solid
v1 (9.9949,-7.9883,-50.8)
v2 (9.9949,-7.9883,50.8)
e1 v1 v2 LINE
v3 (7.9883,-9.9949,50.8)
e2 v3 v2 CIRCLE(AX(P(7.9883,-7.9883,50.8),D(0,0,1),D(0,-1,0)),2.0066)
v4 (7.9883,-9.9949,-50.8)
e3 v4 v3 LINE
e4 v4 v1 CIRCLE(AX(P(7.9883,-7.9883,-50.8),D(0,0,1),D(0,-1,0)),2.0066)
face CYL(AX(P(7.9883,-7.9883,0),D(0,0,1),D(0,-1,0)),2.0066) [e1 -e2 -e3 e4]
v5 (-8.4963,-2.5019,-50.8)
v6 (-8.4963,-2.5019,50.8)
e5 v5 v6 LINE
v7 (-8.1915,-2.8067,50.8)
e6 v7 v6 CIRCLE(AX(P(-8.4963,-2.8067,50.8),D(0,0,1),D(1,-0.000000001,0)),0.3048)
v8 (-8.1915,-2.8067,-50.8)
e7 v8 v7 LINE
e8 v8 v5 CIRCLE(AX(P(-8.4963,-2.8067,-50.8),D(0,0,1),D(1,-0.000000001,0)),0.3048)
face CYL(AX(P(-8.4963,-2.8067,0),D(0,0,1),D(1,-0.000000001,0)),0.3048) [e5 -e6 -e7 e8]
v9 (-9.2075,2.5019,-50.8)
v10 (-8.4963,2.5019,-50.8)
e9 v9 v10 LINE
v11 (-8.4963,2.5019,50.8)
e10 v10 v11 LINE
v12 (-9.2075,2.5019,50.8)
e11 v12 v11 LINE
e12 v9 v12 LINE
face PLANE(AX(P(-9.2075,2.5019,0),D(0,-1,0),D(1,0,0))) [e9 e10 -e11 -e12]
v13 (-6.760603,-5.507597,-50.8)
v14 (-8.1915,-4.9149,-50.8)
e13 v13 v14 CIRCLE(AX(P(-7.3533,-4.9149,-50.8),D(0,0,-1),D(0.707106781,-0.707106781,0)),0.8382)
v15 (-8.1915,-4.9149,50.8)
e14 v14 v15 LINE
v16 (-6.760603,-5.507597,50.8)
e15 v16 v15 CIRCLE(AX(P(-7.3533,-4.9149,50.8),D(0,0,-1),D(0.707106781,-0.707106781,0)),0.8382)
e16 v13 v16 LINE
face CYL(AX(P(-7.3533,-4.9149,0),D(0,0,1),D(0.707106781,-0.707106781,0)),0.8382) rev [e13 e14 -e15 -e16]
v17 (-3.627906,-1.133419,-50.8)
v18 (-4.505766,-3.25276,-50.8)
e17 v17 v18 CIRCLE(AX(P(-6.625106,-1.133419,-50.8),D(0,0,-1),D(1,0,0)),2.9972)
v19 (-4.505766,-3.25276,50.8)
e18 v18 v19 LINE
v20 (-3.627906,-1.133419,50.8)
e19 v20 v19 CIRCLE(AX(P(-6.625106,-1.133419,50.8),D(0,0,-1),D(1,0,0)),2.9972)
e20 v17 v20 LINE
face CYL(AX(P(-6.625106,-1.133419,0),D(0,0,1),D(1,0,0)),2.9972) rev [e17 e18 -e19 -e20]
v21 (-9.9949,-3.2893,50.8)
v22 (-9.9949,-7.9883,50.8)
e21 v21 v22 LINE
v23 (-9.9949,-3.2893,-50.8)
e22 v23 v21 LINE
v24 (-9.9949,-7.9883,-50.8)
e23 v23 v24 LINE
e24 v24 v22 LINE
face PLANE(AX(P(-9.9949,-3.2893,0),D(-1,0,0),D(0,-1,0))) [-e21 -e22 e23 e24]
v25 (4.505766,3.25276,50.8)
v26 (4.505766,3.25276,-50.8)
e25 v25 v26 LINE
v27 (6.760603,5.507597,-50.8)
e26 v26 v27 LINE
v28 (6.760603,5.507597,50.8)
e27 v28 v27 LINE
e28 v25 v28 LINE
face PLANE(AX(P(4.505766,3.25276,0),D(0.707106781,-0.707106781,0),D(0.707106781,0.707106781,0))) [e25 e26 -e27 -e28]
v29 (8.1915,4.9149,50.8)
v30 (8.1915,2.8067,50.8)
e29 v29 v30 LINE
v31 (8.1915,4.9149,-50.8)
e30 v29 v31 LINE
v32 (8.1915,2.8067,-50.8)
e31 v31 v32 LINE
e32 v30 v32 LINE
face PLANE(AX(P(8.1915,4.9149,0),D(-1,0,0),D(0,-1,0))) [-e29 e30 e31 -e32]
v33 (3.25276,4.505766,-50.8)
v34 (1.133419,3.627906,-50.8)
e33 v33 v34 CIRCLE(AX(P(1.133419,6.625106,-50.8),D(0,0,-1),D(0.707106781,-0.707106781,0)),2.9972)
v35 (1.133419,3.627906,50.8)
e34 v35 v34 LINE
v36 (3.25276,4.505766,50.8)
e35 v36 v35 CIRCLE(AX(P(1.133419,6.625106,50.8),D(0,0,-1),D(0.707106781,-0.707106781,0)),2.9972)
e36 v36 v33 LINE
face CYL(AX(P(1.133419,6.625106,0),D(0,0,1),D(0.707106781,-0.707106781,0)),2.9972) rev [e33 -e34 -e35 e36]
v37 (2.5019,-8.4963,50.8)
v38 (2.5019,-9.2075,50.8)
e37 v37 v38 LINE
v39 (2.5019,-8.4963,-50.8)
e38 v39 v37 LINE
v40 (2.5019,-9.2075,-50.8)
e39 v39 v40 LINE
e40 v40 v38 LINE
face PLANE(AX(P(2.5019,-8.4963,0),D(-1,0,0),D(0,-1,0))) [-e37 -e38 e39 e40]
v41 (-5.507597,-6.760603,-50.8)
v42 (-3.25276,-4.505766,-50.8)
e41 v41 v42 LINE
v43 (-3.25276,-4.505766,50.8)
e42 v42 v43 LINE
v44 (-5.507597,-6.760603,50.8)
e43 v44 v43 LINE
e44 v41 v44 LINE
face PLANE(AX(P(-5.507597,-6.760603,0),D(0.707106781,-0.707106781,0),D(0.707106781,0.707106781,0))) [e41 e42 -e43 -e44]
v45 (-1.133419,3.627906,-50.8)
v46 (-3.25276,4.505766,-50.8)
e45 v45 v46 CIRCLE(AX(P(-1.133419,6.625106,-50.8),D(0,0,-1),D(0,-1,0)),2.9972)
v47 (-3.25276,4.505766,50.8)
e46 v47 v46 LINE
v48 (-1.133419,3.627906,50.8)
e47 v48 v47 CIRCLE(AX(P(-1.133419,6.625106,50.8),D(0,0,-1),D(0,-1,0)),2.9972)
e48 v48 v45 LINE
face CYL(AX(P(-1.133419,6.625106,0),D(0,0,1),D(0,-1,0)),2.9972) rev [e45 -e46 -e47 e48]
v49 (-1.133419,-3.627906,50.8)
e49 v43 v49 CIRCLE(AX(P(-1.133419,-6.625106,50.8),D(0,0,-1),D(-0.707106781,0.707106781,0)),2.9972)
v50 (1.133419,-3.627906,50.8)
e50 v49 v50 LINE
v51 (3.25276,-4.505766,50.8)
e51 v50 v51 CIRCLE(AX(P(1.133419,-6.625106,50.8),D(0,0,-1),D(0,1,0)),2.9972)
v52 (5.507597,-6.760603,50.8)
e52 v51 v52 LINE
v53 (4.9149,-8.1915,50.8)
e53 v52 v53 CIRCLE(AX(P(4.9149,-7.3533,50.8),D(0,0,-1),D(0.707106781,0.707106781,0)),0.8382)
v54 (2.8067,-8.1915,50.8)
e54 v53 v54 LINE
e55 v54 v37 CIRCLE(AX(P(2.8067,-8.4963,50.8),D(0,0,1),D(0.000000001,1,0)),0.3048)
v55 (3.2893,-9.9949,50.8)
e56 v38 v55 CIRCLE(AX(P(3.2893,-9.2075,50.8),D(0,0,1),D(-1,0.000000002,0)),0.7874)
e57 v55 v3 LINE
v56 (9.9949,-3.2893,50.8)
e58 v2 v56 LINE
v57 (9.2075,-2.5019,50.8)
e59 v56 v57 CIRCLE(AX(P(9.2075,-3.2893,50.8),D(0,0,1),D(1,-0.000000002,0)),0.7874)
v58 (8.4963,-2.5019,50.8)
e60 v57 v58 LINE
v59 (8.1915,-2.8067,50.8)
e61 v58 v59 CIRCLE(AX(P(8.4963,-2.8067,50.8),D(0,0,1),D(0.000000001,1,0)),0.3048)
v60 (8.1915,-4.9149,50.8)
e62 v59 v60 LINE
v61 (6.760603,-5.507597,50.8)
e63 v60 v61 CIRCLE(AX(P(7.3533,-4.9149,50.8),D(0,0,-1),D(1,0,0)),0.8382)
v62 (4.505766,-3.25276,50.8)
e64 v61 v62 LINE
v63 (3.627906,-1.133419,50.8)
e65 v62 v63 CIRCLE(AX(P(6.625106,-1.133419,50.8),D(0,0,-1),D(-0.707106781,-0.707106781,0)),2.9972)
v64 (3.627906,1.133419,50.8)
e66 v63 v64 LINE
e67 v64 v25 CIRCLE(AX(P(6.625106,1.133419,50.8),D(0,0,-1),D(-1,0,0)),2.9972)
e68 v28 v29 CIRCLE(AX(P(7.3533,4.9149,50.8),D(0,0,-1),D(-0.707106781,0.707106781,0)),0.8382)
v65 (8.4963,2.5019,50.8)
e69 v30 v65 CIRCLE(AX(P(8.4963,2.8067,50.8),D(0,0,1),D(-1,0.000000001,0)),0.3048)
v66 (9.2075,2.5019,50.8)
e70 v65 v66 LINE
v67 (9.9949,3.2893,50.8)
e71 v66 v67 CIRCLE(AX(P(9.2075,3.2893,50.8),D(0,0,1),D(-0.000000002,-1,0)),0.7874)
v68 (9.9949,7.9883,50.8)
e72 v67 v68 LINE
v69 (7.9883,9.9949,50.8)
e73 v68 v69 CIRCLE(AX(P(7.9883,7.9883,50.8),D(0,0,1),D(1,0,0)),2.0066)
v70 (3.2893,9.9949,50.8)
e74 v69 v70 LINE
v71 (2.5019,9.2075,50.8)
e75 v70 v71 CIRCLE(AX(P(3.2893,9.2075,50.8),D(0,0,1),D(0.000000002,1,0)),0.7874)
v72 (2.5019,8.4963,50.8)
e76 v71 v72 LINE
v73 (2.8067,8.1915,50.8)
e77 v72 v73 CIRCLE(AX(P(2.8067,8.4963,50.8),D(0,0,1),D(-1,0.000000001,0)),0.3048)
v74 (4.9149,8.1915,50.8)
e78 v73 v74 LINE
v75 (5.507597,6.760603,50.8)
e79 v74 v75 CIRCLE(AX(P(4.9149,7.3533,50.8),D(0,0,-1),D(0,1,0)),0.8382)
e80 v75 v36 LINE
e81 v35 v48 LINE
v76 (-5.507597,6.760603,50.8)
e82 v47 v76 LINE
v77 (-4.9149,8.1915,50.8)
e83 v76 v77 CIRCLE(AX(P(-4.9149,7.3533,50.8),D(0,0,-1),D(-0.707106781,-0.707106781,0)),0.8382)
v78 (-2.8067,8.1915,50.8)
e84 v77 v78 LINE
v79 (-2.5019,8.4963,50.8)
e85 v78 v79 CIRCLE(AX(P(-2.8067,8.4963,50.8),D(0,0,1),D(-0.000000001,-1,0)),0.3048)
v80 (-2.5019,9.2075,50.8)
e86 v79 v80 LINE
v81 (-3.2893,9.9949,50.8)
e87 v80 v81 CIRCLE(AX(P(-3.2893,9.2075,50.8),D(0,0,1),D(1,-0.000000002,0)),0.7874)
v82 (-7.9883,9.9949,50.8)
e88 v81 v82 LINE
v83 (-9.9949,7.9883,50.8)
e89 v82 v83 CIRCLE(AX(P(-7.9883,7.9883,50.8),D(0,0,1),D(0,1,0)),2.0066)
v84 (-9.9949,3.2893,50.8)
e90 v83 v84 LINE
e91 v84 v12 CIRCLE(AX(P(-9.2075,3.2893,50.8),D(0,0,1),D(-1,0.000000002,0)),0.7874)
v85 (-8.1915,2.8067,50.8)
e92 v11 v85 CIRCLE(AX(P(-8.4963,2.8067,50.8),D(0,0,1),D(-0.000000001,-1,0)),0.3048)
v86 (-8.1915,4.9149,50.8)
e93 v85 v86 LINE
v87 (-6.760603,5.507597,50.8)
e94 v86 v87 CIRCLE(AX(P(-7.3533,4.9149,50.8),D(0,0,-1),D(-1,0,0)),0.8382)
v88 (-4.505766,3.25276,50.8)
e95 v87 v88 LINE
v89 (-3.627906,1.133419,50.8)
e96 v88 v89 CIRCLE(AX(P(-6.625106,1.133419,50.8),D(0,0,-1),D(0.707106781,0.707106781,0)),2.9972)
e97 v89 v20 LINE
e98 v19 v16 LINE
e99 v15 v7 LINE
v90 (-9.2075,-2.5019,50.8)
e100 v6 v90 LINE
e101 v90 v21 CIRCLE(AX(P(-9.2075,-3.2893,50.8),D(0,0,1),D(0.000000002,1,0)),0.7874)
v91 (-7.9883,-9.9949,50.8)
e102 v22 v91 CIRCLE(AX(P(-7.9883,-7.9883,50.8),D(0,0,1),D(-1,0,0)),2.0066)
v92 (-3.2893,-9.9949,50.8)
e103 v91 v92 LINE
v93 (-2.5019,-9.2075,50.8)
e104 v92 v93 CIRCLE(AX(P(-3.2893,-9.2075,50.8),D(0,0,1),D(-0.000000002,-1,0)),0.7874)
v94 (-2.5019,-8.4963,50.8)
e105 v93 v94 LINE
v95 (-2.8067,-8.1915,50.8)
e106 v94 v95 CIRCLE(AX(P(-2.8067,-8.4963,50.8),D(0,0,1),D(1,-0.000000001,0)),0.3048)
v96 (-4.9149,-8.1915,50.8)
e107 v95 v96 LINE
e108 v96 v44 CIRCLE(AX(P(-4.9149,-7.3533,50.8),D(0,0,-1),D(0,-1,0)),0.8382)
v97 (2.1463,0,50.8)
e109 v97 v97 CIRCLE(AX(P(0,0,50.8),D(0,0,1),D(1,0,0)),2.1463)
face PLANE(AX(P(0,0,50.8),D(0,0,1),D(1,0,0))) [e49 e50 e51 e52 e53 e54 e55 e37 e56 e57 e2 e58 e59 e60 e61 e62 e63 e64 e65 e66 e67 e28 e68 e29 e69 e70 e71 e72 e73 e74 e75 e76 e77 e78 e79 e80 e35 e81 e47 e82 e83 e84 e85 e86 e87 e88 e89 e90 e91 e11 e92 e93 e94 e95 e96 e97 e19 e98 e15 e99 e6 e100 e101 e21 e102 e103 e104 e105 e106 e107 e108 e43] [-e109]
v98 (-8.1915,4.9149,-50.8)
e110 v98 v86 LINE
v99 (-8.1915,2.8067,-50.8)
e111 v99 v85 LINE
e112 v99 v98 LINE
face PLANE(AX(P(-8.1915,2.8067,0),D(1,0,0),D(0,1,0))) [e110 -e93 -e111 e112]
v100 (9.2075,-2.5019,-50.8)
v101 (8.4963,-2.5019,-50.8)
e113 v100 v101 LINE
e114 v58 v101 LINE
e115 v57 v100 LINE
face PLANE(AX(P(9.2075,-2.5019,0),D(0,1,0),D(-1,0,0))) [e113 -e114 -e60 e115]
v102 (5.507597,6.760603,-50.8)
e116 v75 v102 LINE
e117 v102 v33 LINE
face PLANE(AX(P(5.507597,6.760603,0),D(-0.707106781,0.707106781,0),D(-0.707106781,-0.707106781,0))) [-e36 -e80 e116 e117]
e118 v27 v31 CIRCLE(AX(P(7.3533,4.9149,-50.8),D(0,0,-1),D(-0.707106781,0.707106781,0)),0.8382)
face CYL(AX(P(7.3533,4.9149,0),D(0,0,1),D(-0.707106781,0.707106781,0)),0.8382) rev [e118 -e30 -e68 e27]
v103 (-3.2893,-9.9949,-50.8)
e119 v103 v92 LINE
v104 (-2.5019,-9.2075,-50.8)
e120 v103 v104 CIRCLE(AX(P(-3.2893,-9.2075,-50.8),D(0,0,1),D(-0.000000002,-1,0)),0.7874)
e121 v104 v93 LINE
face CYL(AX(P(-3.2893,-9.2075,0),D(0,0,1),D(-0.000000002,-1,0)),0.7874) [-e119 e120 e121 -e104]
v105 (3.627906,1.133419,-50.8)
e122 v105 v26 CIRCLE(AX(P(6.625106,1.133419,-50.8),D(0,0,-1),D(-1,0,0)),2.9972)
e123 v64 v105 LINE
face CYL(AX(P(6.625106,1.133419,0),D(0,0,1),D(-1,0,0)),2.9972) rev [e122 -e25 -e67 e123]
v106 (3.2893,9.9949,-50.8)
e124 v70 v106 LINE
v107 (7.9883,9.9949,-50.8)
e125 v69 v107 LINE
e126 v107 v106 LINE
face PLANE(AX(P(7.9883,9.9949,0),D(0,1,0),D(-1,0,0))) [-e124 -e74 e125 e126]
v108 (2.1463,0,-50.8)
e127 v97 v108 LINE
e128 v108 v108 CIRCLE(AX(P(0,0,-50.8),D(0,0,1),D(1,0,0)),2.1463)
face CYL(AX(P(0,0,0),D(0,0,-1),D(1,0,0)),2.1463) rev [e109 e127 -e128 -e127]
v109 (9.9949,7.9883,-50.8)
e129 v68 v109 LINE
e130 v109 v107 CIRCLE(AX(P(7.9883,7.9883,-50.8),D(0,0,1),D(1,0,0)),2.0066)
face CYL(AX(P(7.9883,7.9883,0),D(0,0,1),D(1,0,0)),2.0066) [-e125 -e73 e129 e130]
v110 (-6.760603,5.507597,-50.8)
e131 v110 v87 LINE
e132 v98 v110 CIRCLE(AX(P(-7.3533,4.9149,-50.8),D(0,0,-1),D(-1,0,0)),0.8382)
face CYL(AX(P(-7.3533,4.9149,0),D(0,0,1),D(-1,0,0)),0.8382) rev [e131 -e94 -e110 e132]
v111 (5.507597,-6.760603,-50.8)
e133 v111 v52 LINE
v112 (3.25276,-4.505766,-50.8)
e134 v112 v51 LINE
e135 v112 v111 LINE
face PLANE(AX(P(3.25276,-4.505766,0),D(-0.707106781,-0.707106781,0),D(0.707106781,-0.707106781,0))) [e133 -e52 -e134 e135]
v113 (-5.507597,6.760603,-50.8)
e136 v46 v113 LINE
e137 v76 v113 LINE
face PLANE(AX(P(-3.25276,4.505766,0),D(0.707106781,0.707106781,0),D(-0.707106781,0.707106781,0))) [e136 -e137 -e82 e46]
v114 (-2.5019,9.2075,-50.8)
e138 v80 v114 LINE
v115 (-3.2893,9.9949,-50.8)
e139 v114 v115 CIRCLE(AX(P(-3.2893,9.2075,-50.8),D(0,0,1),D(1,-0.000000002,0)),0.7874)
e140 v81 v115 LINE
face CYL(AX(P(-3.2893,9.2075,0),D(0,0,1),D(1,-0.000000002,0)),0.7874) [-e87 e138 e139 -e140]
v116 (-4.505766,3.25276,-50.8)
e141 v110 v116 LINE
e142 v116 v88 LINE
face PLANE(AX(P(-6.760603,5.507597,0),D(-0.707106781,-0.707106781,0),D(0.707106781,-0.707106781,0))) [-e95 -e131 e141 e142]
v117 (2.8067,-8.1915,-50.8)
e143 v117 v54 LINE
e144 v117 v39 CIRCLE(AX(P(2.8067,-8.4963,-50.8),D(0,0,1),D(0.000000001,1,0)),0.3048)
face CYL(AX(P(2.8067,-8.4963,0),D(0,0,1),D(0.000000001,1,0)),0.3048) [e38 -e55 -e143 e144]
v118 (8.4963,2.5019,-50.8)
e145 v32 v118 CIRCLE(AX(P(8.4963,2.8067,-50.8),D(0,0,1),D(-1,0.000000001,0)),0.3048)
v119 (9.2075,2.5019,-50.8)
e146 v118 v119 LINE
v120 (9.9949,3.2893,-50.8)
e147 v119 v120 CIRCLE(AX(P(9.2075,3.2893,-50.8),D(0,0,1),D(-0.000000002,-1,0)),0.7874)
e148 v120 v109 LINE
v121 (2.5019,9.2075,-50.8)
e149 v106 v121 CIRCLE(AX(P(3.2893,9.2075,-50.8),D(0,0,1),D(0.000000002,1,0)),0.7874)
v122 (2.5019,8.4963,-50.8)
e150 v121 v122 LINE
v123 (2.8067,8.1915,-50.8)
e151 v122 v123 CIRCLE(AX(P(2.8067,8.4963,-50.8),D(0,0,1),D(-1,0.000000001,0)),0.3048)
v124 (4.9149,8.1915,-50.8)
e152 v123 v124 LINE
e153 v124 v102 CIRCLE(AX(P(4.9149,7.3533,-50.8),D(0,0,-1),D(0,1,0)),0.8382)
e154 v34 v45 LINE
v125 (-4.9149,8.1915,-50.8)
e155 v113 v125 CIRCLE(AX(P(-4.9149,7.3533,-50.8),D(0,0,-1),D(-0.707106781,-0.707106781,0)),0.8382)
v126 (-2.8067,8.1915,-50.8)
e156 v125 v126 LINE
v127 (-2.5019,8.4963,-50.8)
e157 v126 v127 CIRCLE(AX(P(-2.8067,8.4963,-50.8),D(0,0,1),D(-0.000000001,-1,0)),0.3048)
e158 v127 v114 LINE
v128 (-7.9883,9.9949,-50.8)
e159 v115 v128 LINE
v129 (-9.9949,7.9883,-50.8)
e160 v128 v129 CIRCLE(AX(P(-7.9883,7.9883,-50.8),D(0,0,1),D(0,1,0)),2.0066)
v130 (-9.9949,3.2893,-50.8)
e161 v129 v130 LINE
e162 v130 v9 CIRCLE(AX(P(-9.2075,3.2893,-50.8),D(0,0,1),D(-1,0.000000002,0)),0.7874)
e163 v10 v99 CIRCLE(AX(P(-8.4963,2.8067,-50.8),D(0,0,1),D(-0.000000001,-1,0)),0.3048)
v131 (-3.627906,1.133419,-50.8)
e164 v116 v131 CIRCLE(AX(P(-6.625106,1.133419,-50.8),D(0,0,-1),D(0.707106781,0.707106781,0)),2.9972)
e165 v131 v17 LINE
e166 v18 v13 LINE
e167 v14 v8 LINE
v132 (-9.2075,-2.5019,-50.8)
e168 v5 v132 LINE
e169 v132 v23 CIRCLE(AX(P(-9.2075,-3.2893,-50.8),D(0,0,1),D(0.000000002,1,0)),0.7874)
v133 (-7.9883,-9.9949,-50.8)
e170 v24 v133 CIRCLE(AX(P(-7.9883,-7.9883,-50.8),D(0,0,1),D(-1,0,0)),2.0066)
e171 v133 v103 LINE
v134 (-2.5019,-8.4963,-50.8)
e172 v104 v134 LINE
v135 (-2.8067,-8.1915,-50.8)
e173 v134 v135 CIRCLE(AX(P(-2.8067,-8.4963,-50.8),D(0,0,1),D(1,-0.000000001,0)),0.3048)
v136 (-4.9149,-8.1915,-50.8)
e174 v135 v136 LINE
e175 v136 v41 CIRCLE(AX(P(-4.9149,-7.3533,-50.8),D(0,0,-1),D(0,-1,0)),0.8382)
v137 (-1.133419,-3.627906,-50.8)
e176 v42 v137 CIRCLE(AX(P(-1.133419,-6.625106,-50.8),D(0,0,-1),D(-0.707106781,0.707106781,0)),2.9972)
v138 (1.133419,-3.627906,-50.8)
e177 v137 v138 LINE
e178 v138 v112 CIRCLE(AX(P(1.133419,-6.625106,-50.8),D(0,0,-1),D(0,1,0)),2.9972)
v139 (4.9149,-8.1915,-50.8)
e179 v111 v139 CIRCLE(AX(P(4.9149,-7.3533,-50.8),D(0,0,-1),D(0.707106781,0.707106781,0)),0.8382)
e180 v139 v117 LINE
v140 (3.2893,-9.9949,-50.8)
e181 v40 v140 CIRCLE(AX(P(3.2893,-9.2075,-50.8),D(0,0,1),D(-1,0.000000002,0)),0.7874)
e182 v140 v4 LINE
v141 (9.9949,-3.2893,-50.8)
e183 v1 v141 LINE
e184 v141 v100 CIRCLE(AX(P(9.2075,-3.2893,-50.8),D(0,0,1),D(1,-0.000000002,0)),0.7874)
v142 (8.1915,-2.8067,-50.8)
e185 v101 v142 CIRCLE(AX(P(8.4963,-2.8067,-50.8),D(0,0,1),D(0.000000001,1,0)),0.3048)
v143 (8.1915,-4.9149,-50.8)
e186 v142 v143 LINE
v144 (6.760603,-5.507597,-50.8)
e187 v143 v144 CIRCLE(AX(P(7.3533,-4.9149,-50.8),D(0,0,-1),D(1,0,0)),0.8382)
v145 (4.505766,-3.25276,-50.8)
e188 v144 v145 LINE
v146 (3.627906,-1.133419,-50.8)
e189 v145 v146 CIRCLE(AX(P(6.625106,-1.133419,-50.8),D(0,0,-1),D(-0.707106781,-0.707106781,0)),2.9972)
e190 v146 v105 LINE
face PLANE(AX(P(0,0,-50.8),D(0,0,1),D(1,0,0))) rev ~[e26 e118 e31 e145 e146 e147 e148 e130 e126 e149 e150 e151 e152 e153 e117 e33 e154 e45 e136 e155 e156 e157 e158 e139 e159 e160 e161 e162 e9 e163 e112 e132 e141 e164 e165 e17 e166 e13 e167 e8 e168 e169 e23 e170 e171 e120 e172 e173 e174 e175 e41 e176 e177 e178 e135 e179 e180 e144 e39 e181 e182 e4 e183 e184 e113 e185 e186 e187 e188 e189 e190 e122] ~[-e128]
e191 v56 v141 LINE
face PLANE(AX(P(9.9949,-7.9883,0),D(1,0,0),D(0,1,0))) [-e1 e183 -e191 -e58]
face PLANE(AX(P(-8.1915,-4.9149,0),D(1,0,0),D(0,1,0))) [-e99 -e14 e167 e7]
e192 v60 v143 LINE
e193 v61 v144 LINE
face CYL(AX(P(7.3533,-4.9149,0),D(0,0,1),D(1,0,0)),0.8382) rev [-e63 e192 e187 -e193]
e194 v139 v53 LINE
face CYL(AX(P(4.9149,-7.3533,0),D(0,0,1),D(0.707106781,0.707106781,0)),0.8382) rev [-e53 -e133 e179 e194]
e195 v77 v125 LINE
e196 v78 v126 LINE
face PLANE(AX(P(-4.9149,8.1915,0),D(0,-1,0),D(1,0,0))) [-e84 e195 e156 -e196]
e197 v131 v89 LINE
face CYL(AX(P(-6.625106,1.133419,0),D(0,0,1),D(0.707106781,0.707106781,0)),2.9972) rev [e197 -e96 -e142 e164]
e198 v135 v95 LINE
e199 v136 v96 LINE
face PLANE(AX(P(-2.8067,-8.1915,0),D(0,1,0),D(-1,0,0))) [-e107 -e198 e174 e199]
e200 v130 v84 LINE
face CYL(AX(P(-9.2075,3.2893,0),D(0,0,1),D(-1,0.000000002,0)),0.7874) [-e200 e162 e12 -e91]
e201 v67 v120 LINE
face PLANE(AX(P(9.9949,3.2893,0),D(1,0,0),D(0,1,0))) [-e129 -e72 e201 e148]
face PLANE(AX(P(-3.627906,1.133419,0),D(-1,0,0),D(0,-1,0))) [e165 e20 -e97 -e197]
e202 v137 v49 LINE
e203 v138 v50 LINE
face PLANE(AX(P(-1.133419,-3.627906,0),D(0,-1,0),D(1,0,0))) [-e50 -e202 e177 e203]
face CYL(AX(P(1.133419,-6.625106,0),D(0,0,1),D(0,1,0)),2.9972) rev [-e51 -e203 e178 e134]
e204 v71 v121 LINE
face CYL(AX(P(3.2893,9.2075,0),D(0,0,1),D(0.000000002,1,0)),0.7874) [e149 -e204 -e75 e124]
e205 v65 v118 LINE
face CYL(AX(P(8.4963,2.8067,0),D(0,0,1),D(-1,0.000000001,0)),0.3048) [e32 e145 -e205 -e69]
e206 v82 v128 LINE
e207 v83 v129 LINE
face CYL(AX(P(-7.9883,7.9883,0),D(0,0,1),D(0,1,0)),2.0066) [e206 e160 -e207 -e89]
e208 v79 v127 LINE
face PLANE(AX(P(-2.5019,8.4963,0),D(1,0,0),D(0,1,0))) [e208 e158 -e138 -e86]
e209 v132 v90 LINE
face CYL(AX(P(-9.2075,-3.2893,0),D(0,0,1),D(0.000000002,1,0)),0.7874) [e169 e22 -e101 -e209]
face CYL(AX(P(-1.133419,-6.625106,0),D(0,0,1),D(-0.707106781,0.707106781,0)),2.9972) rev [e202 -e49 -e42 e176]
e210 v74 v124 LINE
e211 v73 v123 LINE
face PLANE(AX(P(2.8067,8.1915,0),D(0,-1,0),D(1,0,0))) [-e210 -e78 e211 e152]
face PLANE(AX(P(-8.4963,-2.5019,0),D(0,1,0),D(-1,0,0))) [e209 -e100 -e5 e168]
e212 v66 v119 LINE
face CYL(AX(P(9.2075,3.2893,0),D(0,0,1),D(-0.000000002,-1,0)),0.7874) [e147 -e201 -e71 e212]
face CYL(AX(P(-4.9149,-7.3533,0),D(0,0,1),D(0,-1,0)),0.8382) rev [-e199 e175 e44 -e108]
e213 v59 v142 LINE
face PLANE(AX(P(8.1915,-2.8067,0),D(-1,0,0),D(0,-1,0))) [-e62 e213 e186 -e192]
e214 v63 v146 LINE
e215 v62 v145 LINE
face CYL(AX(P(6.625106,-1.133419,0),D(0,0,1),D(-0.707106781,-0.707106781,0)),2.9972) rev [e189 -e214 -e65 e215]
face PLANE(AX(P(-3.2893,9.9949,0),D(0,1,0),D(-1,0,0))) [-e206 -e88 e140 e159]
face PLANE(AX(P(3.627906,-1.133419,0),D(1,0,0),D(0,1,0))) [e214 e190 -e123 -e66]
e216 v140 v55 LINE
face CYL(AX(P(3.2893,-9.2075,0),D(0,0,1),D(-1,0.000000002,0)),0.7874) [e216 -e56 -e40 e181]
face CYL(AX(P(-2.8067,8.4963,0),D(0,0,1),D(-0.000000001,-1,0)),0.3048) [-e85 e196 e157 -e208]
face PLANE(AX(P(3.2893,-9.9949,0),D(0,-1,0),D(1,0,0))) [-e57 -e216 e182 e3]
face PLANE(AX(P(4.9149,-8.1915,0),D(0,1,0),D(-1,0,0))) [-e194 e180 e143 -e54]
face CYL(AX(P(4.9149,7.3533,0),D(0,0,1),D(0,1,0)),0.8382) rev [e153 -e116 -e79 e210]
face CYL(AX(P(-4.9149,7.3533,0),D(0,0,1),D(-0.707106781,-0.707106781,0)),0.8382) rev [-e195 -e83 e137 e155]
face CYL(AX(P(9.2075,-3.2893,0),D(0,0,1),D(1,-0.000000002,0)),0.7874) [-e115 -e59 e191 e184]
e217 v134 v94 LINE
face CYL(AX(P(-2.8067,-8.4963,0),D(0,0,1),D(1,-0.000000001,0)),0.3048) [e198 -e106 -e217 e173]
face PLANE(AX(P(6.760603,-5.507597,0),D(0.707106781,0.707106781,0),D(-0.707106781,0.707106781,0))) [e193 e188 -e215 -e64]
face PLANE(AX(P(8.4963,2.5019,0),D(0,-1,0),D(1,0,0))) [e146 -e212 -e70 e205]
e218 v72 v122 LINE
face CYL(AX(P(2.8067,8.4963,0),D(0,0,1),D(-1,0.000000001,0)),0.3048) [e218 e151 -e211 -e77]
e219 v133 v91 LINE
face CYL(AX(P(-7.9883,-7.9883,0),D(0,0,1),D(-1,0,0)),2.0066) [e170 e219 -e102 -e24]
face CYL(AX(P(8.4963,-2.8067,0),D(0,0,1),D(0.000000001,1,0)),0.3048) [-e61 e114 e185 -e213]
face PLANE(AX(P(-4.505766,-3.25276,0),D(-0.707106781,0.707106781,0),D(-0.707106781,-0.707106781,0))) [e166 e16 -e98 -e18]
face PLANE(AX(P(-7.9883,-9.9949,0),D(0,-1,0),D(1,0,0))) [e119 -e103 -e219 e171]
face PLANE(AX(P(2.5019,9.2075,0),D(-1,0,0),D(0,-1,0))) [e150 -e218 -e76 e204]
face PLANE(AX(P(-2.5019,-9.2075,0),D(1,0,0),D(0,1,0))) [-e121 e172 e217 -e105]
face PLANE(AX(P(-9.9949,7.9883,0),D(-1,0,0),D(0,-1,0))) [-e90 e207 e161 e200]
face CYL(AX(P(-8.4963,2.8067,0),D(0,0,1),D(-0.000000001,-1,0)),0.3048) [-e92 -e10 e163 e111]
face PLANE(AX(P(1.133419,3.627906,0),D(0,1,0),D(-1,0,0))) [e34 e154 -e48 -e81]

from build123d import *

# Parameters (mm, degrees)
SKETCH1_R           = 2.1463
BOSS_EXTRUDE1_DEPTH = 50.8


with BuildPart() as part:
    # Sketch1 → Boss-Extrude1 (new, symmetric)
    with BuildSketch(Plane.XY):
        with BuildLine():
            Line((-9.9949, 7.9883), (-9.9949, 3.2893))
            ThreePointArc((-9.9949, 3.2893), (-9.76427588, 2.73252412), (-9.2075, 2.5019))
            Line((-9.2075, 2.5019), (-8.4963, 2.5019))
            ThreePointArc((-8.4963, 2.5019), (-8.280773853, 2.591173853), (-8.1915, 2.8067))
            Line((-8.1915, 2.8067), (-8.1915, 4.9149))
            ThreePointArc((-8.1915, 4.9149), (-7.674065253, 5.689295824), (-6.760603096, 5.507596904))
            Line((-6.760603096, 5.507596904), (-4.505765747, 3.252759555))
            ThreePointArc((-4.505765747, 3.252759555), (-3.856054457, 2.280397894), (-3.627906192, 1.133419111))
            Line((-3.627906192, 1.133419111), (-3.627906192, -1.133419111))
            ThreePointArc((-3.627906192, -1.133419111), (-3.856054457, -2.280397894), (-4.505765747, -3.252759555))
            Line((-4.505765747, -3.252759555), (-6.760603096, -5.507596904))
            ThreePointArc((-6.760603096, -5.507596904), (-7.674065253, -5.689295824), (-8.1915, -4.9149))
            Line((-8.1915, -4.9149), (-8.1915, -2.8067))
            ThreePointArc((-8.1915, -2.8067), (-8.280773853, -2.591173853), (-8.4963, -2.5019))
            Line((-8.4963, -2.5019), (-9.2075, -2.5019))
            ThreePointArc((-9.2075, -2.5019), (-9.76427588, -2.73252412), (-9.9949, -3.2893))
            Line((-9.9949, -3.2893), (-9.9949, -7.9883))
            ThreePointArc((-9.9949, -7.9883), (-9.407180467, -9.407180467), (-7.9883, -9.9949))
            Line((-7.9883, -9.9949), (-3.2893, -9.9949))
            ThreePointArc((-3.2893, -9.9949), (-2.73252412, -9.76427588), (-2.5019, -9.2075))
            Line((-2.5019, -9.2075), (-2.5019, -8.4963))
            ThreePointArc((-2.5019, -8.4963), (-2.591173853, -8.280773853), (-2.8067, -8.1915))
            Line((-2.8067, -8.1915), (-4.9149, -8.1915))
            ThreePointArc((-4.9149, -8.1915), (-5.689295824, -7.674065253), (-5.507596904, -6.760603096))
            Line((-5.507596904, -6.760603096), (-3.252759555, -4.505765747))
            ThreePointArc((-3.252759555, -4.505765747), (-2.280397894, -3.856054457), (-1.133419111, -3.627906192))
            Line((-1.133419111, -3.627906192), (1.133419111, -3.627906192))
            ThreePointArc((1.133419111, -3.627906192), (2.280397894, -3.856054457), (3.252759555, -4.505765747))
            Line((3.252759555, -4.505765747), (5.507596904, -6.760603096))
            ThreePointArc((5.507596904, -6.760603096), (5.689295824, -7.674065253), (4.9149, -8.1915))
            Line((4.9149, -8.1915), (2.8067, -8.1915))
            ThreePointArc((2.8067, -8.1915), (2.591173853, -8.280773853), (2.5019, -8.4963))
            Line((2.5019, -8.4963), (2.5019, -9.2075))
            ThreePointArc((2.5019, -9.2075), (2.73252412, -9.76427588), (3.2893, -9.9949))
            Line((3.2893, -9.9949), (7.9883, -9.9949))
            ThreePointArc((7.9883, -9.9949), (9.407180467, -9.407180467), (9.9949, -7.9883))
            Line((9.9949, -7.9883), (9.9949, -3.2893))
            ThreePointArc((9.9949, -3.2893), (9.76427588, -2.73252412), (9.2075, -2.5019))
            Line((9.2075, -2.5019), (8.4963, -2.5019))
            ThreePointArc((8.4963, -2.5019), (8.280773853, -2.591173853), (8.1915, -2.8067))
            Line((8.1915, -2.8067), (8.1915, -4.9149))
            ThreePointArc((8.1915, -4.9149), (7.674065253, -5.689295824), (6.760603096, -5.507596904))
            Line((6.760603096, -5.507596904), (4.505765747, -3.252759555))
            ThreePointArc((4.505765747, -3.252759555), (3.856054457, -2.280397894), (3.627906192, -1.133419111))
            Line((3.627906192, -1.133419111), (3.627906192, 1.133419111))
            ThreePointArc((3.627906192, 1.133419111), (3.856054457, 2.280397894), (4.505765747, 3.252759555))
            Line((4.505765747, 3.252759555), (6.760603096, 5.507596904))
            ThreePointArc((6.760603096, 5.507596904), (7.674065253, 5.689295824), (8.1915, 4.9149))
            Line((8.1915, 4.9149), (8.1915, 2.8067))
            ThreePointArc((8.1915, 2.8067), (8.280773853, 2.591173853), (8.4963, 2.5019))
            Line((8.4963, 2.5019), (9.2075, 2.5019))
            ThreePointArc((9.2075, 2.5019), (9.76427588, 2.73252412), (9.9949, 3.2893))
            Line((9.9949, 3.2893), (9.9949, 7.9883))
            ThreePointArc((9.9949, 7.9883), (9.407180467, 9.407180467), (7.9883, 9.9949))
            Line((7.9883, 9.9949), (3.2893, 9.9949))
            ThreePointArc((3.2893, 9.9949), (2.73252412, 9.76427588), (2.5019, 9.2075))
            Line((2.5019, 9.2075), (2.5019, 8.4963))
            ThreePointArc((2.5019, 8.4963), (2.591173853, 8.280773853), (2.8067, 8.1915))
            Line((2.8067, 8.1915), (4.9149, 8.1915))
            ThreePointArc((4.9149, 8.1915), (5.689295824, 7.674065253), (5.507596904, 6.760603096))
            Line((5.507596904, 6.760603096), (3.252759555, 4.505765747))
            ThreePointArc((3.252759555, 4.505765747), (2.280397894, 3.856054457), (1.133419111, 3.627906192))
            Line((1.133419111, 3.627906192), (-1.133419111, 3.627906192))
            ThreePointArc((-1.133419111, 3.627906192), (-2.280397894, 3.856054457), (-3.252759555, 4.505765747))
            Line((-3.252759555, 4.505765747), (-5.507596904, 6.760603096))
            ThreePointArc((-5.507596904, 6.760603096), (-5.689295824, 7.674065253), (-4.9149, 8.1915))
            Line((-4.9149, 8.1915), (-2.8067, 8.1915))
            ThreePointArc((-2.8067, 8.1915), (-2.591173853, 8.280773853), (-2.5019, 8.4963))
            Line((-2.5019, 8.4963), (-2.5019, 9.2075))
            ThreePointArc((-2.5019, 9.2075), (-2.73252412, 9.76427588), (-3.2893, 9.9949))
            Line((-3.2893, 9.9949), (-7.9883, 9.9949))
            ThreePointArc((-7.9883, 9.9949), (-9.407180467, 9.407180467), (-9.9949, 7.9883))
        make_face()
        Circle(SKETCH1_R, mode=Mode.SUBTRACT)
    extrude(amount=BOSS_EXTRUDE1_DEPTH, both=True)


solid = part.part
